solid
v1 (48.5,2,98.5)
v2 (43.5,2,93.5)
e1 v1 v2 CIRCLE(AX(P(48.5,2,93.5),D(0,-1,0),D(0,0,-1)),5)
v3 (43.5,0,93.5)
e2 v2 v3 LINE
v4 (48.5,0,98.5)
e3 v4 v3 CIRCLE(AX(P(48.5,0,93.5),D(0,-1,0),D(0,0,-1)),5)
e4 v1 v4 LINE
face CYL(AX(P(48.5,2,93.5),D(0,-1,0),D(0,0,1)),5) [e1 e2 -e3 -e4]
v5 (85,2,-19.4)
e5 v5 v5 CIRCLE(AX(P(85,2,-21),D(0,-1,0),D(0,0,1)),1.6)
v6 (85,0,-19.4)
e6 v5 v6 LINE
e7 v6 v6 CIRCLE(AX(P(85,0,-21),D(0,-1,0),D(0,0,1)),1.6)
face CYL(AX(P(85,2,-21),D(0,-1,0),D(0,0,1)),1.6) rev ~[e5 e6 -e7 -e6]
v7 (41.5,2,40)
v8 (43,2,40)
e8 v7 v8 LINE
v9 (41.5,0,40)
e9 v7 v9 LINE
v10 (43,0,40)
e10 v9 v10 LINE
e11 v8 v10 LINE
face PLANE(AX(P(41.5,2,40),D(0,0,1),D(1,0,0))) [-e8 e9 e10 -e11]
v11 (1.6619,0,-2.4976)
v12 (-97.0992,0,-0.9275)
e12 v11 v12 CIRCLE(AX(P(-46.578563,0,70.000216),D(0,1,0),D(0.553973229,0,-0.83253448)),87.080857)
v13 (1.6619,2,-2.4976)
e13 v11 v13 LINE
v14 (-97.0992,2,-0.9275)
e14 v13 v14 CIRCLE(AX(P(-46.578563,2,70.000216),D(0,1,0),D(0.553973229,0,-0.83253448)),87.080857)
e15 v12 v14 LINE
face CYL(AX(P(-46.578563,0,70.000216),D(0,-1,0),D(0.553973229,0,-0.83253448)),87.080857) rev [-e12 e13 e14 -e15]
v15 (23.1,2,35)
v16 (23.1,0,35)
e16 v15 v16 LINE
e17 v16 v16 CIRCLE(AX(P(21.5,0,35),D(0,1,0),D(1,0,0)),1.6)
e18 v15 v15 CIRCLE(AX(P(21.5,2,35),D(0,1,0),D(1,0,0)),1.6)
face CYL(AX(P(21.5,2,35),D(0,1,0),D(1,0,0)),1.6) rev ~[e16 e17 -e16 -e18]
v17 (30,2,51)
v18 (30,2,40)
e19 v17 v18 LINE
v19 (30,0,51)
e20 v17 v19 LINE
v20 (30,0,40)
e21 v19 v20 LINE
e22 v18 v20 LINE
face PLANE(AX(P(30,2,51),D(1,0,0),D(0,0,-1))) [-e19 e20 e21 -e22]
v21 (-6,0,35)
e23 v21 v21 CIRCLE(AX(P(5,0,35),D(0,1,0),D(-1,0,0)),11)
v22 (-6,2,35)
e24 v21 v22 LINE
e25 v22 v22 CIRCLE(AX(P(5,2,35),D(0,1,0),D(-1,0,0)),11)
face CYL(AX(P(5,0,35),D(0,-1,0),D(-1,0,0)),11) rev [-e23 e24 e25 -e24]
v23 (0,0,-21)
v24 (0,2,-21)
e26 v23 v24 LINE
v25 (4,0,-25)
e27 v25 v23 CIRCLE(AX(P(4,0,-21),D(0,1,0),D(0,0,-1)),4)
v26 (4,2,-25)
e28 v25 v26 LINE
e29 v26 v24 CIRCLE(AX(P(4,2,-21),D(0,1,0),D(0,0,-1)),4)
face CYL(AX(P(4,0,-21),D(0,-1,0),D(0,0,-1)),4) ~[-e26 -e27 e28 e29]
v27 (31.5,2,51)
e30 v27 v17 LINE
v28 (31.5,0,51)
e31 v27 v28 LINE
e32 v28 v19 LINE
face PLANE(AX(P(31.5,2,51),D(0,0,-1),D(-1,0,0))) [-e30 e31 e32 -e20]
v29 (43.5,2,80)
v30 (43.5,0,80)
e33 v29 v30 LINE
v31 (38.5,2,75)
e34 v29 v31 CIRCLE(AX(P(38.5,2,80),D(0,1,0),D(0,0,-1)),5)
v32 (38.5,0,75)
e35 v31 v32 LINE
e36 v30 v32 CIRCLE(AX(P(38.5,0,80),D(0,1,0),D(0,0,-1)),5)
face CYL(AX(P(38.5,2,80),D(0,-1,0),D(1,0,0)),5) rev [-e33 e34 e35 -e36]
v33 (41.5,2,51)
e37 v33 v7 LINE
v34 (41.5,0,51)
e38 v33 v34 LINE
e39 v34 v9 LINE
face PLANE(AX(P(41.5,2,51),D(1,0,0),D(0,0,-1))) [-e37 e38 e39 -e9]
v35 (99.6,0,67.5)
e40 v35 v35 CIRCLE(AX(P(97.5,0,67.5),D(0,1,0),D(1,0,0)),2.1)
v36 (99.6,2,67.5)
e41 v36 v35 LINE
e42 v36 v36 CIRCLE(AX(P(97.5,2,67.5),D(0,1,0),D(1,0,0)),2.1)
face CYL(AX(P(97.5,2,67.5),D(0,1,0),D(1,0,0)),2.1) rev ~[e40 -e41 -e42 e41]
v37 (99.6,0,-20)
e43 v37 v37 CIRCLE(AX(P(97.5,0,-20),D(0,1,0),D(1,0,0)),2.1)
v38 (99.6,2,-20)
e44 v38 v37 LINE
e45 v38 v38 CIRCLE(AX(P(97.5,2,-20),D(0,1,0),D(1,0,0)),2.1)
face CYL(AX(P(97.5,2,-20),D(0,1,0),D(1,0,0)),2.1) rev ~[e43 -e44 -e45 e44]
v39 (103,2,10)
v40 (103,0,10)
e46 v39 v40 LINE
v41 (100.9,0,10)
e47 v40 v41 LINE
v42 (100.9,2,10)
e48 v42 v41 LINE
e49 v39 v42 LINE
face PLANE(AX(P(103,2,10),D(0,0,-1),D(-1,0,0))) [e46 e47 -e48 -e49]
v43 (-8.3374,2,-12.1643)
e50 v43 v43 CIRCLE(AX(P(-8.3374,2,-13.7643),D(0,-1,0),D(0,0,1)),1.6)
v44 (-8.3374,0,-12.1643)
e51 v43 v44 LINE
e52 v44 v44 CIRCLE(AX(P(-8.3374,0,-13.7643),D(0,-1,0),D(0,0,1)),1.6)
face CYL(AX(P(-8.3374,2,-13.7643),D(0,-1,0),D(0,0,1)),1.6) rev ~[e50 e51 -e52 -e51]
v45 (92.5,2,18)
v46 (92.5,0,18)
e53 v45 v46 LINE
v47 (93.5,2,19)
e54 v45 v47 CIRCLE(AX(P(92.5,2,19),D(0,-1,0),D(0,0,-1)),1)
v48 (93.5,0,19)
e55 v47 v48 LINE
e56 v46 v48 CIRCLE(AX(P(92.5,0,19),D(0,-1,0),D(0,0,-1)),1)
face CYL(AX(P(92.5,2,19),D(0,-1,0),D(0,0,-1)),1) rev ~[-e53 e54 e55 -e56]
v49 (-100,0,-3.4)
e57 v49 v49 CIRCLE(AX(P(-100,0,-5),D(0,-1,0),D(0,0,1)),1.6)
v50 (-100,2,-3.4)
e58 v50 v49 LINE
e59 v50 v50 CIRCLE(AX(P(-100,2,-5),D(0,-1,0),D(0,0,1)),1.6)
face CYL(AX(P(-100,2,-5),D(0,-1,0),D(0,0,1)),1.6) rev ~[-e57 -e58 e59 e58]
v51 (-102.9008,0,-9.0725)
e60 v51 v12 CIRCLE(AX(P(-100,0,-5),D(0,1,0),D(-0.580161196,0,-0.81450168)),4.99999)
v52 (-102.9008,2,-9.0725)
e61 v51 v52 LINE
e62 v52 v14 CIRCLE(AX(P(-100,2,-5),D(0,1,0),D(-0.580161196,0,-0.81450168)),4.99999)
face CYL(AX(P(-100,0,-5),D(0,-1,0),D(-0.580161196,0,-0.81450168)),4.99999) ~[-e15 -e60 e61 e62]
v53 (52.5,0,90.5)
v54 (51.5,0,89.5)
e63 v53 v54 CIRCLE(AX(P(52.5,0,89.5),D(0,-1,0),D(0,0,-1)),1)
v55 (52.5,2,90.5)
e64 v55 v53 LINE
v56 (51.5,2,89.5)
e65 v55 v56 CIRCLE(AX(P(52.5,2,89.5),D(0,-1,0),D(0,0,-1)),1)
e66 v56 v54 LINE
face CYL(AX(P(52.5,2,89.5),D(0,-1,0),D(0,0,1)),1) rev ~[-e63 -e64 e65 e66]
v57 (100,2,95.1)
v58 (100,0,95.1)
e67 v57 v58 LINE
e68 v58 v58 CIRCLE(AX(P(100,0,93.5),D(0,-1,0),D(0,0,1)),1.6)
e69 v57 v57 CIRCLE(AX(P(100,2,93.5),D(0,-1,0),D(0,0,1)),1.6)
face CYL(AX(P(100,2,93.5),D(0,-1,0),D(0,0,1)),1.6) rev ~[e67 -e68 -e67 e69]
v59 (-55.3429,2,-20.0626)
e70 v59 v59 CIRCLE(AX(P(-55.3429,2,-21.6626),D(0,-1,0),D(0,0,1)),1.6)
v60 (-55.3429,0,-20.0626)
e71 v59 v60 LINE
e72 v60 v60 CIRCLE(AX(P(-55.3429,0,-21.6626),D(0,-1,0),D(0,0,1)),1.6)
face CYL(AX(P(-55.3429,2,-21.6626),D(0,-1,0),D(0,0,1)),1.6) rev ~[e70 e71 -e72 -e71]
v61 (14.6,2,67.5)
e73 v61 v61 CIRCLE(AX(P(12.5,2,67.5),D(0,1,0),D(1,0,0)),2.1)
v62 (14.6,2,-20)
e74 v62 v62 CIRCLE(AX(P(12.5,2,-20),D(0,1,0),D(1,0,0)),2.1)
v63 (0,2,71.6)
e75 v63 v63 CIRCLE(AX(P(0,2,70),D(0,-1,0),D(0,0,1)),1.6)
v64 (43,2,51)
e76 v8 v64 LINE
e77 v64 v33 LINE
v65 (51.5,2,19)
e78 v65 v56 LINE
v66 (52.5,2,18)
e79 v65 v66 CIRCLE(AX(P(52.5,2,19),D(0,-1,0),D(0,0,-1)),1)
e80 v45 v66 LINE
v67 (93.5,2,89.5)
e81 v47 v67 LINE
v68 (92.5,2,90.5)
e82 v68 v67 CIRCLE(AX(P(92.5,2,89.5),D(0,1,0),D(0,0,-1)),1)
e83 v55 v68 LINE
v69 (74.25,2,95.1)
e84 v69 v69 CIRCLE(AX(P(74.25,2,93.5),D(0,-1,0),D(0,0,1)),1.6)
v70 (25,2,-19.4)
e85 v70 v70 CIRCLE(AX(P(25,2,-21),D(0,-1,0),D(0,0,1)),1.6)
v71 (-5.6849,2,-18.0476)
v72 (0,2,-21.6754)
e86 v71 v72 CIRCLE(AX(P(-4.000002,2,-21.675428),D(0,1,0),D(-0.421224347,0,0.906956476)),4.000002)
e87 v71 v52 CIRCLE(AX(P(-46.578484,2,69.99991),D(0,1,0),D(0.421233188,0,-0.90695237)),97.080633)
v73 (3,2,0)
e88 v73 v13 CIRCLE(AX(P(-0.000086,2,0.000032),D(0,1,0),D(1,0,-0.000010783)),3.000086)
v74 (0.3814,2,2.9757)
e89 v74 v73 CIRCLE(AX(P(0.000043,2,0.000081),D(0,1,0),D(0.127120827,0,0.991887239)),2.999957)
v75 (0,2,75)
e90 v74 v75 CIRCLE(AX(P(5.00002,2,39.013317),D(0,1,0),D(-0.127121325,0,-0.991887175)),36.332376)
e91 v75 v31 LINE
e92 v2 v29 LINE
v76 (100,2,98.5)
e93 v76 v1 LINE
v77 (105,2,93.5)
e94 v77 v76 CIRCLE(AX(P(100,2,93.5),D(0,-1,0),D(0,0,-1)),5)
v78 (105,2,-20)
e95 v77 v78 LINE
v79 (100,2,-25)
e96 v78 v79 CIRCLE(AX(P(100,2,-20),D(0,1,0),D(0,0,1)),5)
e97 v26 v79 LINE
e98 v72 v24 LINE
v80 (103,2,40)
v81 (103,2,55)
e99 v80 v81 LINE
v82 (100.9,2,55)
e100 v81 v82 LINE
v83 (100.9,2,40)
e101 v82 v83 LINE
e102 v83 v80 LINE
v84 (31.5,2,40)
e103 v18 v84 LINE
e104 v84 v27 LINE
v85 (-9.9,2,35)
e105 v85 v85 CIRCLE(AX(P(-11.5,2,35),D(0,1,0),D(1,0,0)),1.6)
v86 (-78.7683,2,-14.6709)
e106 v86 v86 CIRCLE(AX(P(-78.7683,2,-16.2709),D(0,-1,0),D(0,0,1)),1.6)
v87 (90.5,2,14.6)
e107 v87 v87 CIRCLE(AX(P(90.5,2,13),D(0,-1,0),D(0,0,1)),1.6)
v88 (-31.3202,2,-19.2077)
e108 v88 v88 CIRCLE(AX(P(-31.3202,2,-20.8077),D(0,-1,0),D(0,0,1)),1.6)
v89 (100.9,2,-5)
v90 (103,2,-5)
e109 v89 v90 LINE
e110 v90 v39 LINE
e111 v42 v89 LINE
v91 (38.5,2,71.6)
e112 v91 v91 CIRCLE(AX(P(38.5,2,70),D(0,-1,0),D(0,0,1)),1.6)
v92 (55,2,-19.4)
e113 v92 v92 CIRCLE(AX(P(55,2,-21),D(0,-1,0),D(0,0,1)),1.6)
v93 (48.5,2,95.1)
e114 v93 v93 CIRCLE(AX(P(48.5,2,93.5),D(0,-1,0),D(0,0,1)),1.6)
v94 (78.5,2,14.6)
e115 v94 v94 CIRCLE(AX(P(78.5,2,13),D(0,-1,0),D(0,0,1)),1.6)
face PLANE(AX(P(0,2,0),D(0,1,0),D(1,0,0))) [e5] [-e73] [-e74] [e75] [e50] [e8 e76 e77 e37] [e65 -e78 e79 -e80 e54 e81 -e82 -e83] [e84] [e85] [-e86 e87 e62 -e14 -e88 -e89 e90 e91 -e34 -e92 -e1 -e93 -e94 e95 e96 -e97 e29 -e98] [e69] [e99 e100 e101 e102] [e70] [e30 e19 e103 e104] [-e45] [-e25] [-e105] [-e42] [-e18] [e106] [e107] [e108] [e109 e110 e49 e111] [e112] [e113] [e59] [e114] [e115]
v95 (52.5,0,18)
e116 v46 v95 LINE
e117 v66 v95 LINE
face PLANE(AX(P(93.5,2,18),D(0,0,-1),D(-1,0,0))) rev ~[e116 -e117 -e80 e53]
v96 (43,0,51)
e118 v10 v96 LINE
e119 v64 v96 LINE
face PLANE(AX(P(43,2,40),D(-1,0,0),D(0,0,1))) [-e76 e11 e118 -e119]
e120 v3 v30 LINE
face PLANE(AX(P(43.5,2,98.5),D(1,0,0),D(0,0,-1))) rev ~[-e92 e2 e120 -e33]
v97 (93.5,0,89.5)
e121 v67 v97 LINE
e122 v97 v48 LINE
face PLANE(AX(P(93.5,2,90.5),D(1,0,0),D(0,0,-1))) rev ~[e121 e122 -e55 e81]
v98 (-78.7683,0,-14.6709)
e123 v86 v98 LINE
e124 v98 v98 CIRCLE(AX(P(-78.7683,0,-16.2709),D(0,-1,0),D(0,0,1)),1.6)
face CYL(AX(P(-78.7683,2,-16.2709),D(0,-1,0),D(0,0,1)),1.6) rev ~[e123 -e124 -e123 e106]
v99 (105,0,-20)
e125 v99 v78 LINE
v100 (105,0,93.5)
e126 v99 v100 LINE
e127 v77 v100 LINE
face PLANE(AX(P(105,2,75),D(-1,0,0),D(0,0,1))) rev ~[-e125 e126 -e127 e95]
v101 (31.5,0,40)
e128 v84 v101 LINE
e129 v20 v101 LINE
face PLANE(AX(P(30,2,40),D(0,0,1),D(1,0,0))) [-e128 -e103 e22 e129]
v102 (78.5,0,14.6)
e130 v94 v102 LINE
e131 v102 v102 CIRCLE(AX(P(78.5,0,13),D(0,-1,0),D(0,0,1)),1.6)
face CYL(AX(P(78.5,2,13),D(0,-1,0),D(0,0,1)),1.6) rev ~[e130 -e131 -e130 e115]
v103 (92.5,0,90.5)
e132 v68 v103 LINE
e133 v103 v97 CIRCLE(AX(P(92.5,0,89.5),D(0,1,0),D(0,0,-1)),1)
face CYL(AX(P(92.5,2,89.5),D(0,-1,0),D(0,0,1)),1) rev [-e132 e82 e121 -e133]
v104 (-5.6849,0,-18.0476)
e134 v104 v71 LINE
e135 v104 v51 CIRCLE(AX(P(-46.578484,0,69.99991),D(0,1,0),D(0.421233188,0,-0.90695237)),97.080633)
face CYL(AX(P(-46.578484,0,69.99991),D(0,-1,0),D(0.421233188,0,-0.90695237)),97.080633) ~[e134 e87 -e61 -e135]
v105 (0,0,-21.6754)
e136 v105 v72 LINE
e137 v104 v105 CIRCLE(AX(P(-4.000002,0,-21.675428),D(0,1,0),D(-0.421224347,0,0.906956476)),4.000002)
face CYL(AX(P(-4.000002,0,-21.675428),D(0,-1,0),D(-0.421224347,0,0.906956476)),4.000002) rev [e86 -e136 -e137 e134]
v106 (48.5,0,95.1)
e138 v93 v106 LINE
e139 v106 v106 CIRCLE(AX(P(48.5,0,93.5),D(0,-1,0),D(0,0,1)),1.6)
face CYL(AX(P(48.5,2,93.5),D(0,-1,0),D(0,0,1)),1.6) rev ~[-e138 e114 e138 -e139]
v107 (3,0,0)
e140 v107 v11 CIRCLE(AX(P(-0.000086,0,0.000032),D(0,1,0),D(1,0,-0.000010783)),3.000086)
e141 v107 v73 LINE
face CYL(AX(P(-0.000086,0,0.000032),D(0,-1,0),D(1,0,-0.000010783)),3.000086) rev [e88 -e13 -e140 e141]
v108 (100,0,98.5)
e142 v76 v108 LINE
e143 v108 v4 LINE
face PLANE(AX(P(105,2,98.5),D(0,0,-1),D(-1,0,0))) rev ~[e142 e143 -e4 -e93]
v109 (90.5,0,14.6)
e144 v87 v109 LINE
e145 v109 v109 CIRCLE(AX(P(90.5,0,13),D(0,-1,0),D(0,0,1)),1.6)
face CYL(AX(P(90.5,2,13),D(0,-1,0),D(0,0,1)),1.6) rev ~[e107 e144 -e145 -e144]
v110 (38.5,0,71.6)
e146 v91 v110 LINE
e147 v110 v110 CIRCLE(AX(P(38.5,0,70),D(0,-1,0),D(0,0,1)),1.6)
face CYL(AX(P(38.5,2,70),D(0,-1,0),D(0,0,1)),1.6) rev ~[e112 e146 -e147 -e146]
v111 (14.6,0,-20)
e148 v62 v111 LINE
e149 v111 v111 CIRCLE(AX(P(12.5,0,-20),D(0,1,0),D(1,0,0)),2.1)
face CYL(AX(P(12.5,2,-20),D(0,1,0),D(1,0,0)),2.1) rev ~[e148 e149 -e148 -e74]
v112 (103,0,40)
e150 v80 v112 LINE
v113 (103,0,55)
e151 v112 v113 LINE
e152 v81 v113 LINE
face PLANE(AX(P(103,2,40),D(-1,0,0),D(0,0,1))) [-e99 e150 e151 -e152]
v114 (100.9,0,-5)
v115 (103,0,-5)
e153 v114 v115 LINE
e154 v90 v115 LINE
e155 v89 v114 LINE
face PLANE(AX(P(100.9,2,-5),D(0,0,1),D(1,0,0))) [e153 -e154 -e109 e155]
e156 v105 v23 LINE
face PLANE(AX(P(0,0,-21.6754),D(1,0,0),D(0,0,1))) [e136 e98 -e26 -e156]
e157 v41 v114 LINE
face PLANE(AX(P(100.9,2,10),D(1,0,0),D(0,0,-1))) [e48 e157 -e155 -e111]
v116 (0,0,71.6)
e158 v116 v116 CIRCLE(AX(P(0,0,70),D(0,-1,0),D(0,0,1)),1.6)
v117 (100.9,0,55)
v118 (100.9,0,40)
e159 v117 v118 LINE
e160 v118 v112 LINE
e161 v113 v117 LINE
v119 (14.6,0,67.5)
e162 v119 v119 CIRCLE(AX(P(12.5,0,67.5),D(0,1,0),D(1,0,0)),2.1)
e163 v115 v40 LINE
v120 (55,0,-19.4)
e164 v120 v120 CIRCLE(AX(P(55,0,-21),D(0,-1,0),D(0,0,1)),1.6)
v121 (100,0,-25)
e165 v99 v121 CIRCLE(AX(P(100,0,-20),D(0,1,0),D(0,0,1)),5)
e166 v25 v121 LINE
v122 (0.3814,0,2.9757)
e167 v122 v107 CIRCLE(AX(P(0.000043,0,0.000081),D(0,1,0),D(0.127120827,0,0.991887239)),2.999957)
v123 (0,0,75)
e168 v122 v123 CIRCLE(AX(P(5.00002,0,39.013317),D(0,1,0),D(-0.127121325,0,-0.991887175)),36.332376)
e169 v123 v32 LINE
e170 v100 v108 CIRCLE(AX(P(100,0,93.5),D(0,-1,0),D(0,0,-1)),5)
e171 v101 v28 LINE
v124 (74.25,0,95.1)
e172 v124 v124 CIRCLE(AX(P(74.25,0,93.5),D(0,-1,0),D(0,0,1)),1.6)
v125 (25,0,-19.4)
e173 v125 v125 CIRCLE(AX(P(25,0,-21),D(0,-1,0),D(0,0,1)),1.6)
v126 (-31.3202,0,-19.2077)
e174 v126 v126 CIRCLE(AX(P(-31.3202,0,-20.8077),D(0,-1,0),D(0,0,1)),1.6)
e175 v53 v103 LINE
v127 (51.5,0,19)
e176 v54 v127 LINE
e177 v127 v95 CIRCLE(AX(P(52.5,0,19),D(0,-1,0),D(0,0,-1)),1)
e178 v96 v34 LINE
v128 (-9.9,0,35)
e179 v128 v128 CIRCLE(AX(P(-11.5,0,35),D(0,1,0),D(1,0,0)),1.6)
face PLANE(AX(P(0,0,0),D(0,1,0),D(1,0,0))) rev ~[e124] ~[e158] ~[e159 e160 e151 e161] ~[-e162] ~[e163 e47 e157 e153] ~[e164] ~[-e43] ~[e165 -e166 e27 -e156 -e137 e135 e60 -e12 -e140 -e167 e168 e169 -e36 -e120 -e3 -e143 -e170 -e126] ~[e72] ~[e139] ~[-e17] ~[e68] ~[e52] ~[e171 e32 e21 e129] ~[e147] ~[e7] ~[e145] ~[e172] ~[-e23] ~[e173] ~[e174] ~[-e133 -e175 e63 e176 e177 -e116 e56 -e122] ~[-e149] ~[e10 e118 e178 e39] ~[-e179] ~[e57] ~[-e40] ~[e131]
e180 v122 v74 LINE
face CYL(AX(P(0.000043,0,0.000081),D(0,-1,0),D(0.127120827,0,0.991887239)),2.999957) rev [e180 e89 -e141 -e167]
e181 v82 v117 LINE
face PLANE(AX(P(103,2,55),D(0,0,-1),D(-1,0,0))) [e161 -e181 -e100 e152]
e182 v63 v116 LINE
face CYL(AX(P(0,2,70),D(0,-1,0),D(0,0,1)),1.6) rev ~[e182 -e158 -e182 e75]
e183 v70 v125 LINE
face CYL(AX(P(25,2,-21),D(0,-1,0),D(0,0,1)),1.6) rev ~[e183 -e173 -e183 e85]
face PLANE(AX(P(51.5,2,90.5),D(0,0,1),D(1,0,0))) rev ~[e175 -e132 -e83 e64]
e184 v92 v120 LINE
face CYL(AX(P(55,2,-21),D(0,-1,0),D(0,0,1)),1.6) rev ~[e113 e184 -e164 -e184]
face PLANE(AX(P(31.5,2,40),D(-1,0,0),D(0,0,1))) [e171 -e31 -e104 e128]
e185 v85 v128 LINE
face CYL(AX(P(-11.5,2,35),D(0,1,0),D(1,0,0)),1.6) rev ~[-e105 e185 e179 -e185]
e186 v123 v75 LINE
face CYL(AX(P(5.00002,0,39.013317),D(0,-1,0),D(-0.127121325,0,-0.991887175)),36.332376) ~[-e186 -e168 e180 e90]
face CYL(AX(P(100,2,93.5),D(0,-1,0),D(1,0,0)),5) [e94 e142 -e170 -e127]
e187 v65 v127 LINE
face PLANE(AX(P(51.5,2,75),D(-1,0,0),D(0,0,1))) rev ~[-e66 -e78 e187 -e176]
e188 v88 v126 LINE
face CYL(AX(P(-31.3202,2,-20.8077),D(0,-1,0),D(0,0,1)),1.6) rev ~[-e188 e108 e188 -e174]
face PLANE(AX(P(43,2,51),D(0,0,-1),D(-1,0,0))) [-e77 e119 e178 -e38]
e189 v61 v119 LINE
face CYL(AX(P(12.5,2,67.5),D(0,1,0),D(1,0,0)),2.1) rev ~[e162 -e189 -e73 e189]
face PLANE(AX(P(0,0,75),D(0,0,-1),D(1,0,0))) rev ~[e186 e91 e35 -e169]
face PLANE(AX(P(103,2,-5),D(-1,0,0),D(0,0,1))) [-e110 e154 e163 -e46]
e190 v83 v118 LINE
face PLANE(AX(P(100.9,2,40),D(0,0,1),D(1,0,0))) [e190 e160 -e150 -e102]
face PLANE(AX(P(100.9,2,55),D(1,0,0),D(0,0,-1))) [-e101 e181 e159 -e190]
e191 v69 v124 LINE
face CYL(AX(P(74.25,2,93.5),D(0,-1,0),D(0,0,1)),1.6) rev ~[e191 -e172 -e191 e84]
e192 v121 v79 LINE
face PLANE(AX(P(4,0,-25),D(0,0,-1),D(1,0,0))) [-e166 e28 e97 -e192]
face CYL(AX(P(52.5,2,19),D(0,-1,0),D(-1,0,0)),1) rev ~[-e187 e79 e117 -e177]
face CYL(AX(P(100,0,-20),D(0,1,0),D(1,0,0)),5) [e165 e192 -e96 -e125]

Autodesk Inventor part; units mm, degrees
ref_plane "YZ Plane" through (0, 0, 0) normal (1, 0, 0) x (0, 1, 0)
ref_plane "XZ Plane" through (0, 0, 0) normal (0, 1, 0) x (-1, 0, 0)
ref_plane "XY Plane" through (0, 0, 0) normal (0, 0, 1) x (1, 0, 0)
sketch "Sketch1" plane through (0, 0, 0) normal (0, 1, 0) x (-1, 0, 0)
  arc A0 (-0.3814, 2.9757) -> (-3, 0) centre (0, 0) ccw
  circle A1 centre (-5, 35) radius 11
  arc A2 (-0.3814, 2.9757) -> (0, 75) centre (-5, 39.0133) ccw
  line L0 (-105, 0) -> (0, 0) construction
  line L1 (-3, 0) -> (-105, 0) construction
  arc A3 (-3, 0) -> (-0.3814, -2.9757) centre (0, 0) ccw
  arc A4 (-1.6619, -2.4976) -> (97.0992, -0.9275) centre (46.5785, 70) ccw
  arc A5 (102.9008, -9.0725) -> (97.0992, -0.9275) centre (100, -5) ccw
  line L2 (0, 0) -> (100, 0) construction
  arc A6 (5.6849, -18.0476) -> (102.9008, -9.0725) centre (46.5785, 70) ccw
  line L3 (0, 75) -> (0, 0) construction
  line L4 (0, 0) -> (0, -15.1769) construction
  line L5 (0, 0) -> (-105, 0) construction
  line L6 (0, 75) -> (-105, 75)
  line L7 (-105, 75) -> (-105, -25)
  line L8 (0, -21.6754) -> (0, -21)
  line L9 (-4, -25) -> (-105, -25)
  arc A7 (5.6849, -18.0476) -> (0, -21.6754) centre (4, -21.6754) ccw
  arc A8 (-4, -25) -> (0, -21) centre (-4, -21) ccw
  point P0 (-5, -39.0133)
  point P1 (0, -25)
  dimension "d0" = 6
  dimension "d7" = 22
  dimension "d13" = 5
  dimension "d47" = 10
  dimension "d49" = 100
  dimension "d68" = 70
  dimension "d71" = 0
  dimension "d75" = 105
  dimension "d76" = 4
  dimension "d77" = 4
  dimension "d101" = 100
  dimension "d105" = 75
  dimension "d106" = 35
  dimension "d107" = 5
extrude "Extrusion1" add sketch "Sketch1" along normal blind 2
sketch "Szkic5" plane through (0, 2, 0) normal (0, 1, 0) x (1, 0, 0)
  circle A0 centre (12.5, 20) radius 2.1
  circle A1 centre (97.5, 20) radius 2.1
  circle A2 centre (12.5, -67.5) radius 2.1
  circle A3 centre (97.5, -67.5) radius 2.1
  line L0 (12.5, 20) -> (97.5, 20) construction
  line L1 (97.5, -67.5) -> (97.5, 20) construction
  line L2 (12.5, -67.5) -> (97.5, -67.5) construction
  line L3 (0, -75) -> (105, -75) construction
  line L4 (105, -75) -> (105, 25) construction
  line L5 (105, 25) -> (4, 25) construction
  line L6 (0, 21) -> (0, 21.6754) construction
  line L7 (12.5, 20) -> (12.5, -67.5) construction
  point P0 (0, 0)
  dimension "d84" = 7.5
  dimension "d85" = 7.5
  dimension "d88" = 4.2
  dimension "d89" = 85
  dimension "d109" = 87.5
extrude "Wyciągnięcie proste4" cut sketch "Szkic5" against normal up to surface (2 mm away)
sketch "Szkic6" plane through (0, 2, 0) normal (0, 1, 0) x (1, 0, 0)
  line L0 (103, -55) -> (100.9, -55)
  line L1 (100.9, -55) -> (100.9, -40)
  line L2 (100.9, -40) -> (103, -40)
  line L3 (103, -40) -> (103, -55)
  line L4 (103, -10) -> (100.9, -10)
  line L5 (100.9, -10) -> (100.9, 5)
  line L6 (100.9, 5) -> (103, 5)
  line L7 (103, 5) -> (103, -10)
  line L8 (100.9, -40) -> (100.9, -10) construction
  line L9 (100.9, -25) -> (105, -25) construction
  line L10 (105, -75) -> (105, 25) construction
  point P0 (0, 0)
  point P1 (105, 25)
  dimension "d92" = 15
  dimension "d94" = 30
  dimension "d127" = 2.1
  dimension "d128" = 2
extrude "Wyciągnięcie proste5" cut sketch "Szkic6" against normal up to surface (2 mm away)
sketch "Sketch8" plane through (0, 2, 0) normal (0, 1, 0) x (1, 0, 0)
  circle A0 centre (-11.5, -35) radius 1.6
  circle A1 centre (21.5, -35) radius 1.6
  circle A2 centre (5, -35) radius 11 construction
  line L0 (-11.5, -35) -> (21.5, -35) construction
  point P0 (0, 0)
  dimension "d110" = 33
  dimension "d111" = 3.2
extrude "Extrusion6" cut sketch "Sketch8" against normal through all
fillet "Fillet1" radius 5 1 edges at (105, 1, -25)
sketch "Sketch9" plane through (0, 2, 0) normal (0, 1, 0) x (1, 0, 0)
  line L0 (0, -75) -> (105, -75) projected
  line L1 (105, -75) -> (105, -98.5)
  line L2 (105, -98.5) -> (43.5, -98.5)
  line L3 (43.5, -98.5) -> (43.5, -75)
  line L4 (43.5, -75) -> (51.5, -75)
  line L5 (51.5, -75) -> (51.5, -90.5)
  line L6 (51.5, -90.5) -> (93.5, -90.5)
  line L7 (93.5, -90.5) -> (93.5, -75)
  line L8 (105, -75) -> (93.5, -75)
  point P0 (0, 0)
  dimension "d116" = 8
  dimension "d117" = 8
  dimension "d118" = 15.5
  dimension "d119" = 42
  dimension "d130" = 51.5
extrude "Extrusion7" add sketch "Sketch9" against normal up to surface (2 mm away) contours L0 L5 L6 L7 L1 L2 L3
sketch "Sketch10" plane through (0, 2, 0) normal (0, 1, 0) x (1, 0, 0)
  line L0 (93.5, -75) -> (51.5, -75) projected
  line L1 (51.5, -75) -> (93.5, -75)
  line L2 (93.5, -75) -> (93.5, -18)
  line L3 (93.5, -18) -> (51.5, -18)
  line L4 (51.5, -18) -> (51.5, -75)
  point P0 (0, 0)
  dimension "d123" = 57
extrude "Extrusion8" cut sketch "Sketch10" against normal up to surface (2 mm away)
fillet "Fillet2" radius 5 3 edges at (105, 1, 98.5) (43.5, 1, 98.5) (43.5, 1, 75)
fillet "Fillet3" radius 1 4 edges at (51.5, 1, 18) (93.5, 1, 18) (93.5, 1, 90.5) (51.5, 1, 90.5)
sketch "Sketch11" plane through (0, 2, 0) normal (0, 1, 0) x (1, 0, 0)
  line L0 (78.5, -13) -> (90.5, -13) construction
  line L1 (52.5, -18) -> (92.5, -18) construction
  line L2 (93.5, -19) -> (93.5, -89.5) construction
  point P0 (0, 0)
  dimension "d131" = 5
  dimension "d132" = 3
  dimension "d133" = 12
hole "Hole1" at (78.5, 2, 13) at (90.5, 2, 13) direction (0, -1, 0) diameter 3.2 end through all
sketch "Sketch12" plane through (0, 2, 0) normal (0, 1, 0) x (1, 0, 0)
  arc A0 (1.6619, 2.4976) -> (-97.0992, 0.9275) centre (-46.5785, -70) ccw construction
  arc A1 (-102.9008, 9.0725) -> (-97.0992, 0.9275) centre (-100, 5) ccw construction
  arc A2 (13.245, 0) -> (-100, 5) centre (-46.5785, -70) ccw construction
  line L0 (-46.5785, -70) -> (-100, 5) construction
  arc A3 (100, -98.5) -> (105, -93.5) centre (100, -93.5) ccw construction
  arc A4 (43.5, -93.5) -> (48.5, -98.5) centre (48.5, -93.5) ccw construction
  line L1 (25, 21) -> (85, 21) construction
  line L2 (100, 25) -> (4, 25) construction
  line L3 (48.5, -93.5) -> (100, -93.5) construction
  line L4 (0, -70) -> (38.5, -70) construction
  line L5 (0, -75) -> (38.5, -75) construction
  line L6 (38.5, -70) -> (38.5, -75) construction
  arc A5 (43.5, -80) -> (38.5, -75) centre (38.5, -80) ccw construction
  arc A6 (0.3814, -2.9757) -> (0, -75) centre (5, -39.0133) ccw construction
  line L7 (0, -75) -> (0, -70) construction
  circle A7 centre (12.5, 20) radius 2.1 construction
  circle A8 centre (97.5, 20) radius 2.1 construction
  line L8 (0, 0) -> (13.245, 0) construction
  point P0 (-78.7683, 16.2709)
  point P1 (-55.3429, 21.6626)
  point P2 (-31.3202, 20.8077)
  point P3 (-8.3374, 13.7643)
  point P4 (55, 21)
  point P5 (74.25, -93.5)
  dimension "d143" = 60
  dimension "d145" = 60
  dimension "d146" = 4
  dimension "d147" = 5
  dimension "d148" = 12.5
  dimension "d149" = 12.5
hole "Hole2" at (-100, 2, -5) at (-78.7683, 2, -16.2709) at (-55.3429, 2, -21.6626) at (-31.3202, 2, -20.8077) at (-8.3374, 2, -13.7643) at (48.5, 2, 93.5) at (100, 2, 93.5) at (25, 2, -21) at (85, 2, -21) at (55, 2, -21) at (74.25, 2, 93.5) at (0, 2, 70) at (38.5, 2, 70) direction (0, -1, 0) diameter 3.2 end through all
sketch "Sketch15" plane through (0, 2, 0) normal (0, 1, 0) x (1, 0, 0)
  line L0 (30, -40) -> (31.5, -40)
  line L1 (31.5, -40) -> (31.5, -51)
  line L2 (31.5, -51) -> (30, -51)
  line L3 (30, -51) -> (30, -40)
  line L4 (41.5, -40) -> (43, -40)
  line L5 (43, -40) -> (43, -51)
  line L6 (43, -51) -> (41.5, -51)
  line L7 (41.5, -51) -> (41.5, -40)
  point P0 (0, 0)
  dimension "d157" = 11
  dimension "d158" = 10
  dimension "d159" = 1.5
  dimension "d160" = 40
  dimension "d161" = 30
extrude "Extrusion9" cut sketch "Sketch15" against normal through all
sketch "Sketch16" plane through (0, 2, 0) normal (0, 1, 0) x (1, 0, 0)
  line L0 (43, -40) -> (43, -51) projected
  line L1 (43, -51) -> (41.5, -51) projected
  line L2 (41.5, -51) -> (41.5, -40) projected
  line L3 (41.5, -40) -> (43, -40) projected
  line L4 (31.5, -40) -> (31.5, -51) projected
  line L5 (31.5, -51) -> (30, -51) projected
  line L6 (30, -51) -> (30, -40) projected
  line L7 (30, -40) -> (31.5, -40) projected
  circle A0 centre (0, -70) radius 1.6 projected
  circle A1 centre (55, 21) radius 1.6 projected
  circle A2 centre (25, 21) radius 1.6 projected
  circle A3 centre (48.5, -93.5) radius 1.6 projected
  circle A4 centre (-31.3202, 20.8077) radius 1.6 projected
  circle A5 centre (-78.7683, 16.2709) radius 1.6 projected
  circle A6 centre (-100, 5) radius 1.6 projected
  circle A7 centre (-55.3429, 21.6626) radius 1.6 projected
  circle A8 centre (-8.3374, 13.7643) radius 1.6 projected
  circle A9 centre (100, -93.5) radius 1.6 projected
  circle A10 centre (85, 21) radius 1.6 projected
  circle A11 centre (74.25, -93.5) radius 1.6 projected
  circle A12 centre (38.5, -70) radius 1.6 projected
  circle A13 centre (78.5, -13) radius 1.6 projected
  circle A14 centre (90.5, -13) radius 1.6 projected
  arc A15 (43.5, -93.5) -> (48.5, -98.5) centre (48.5, -93.5) ccw projected
  line L8 (48.5, -98.5) -> (100, -98.5) projected
  arc A16 (100, -98.5) -> (105, -93.5) centre (100, -93.5) ccw projected
  line L9 (105, -93.5) -> (105, 20) projected
  arc A17 (105, 20) -> (100, 25) centre (100, 20) ccw projected
  line L10 (100, 25) -> (4, 25) projected
  arc A18 (4, 25) -> (0, 21) centre (4, 21) ccw projected
  line L11 (0, 21) -> (0, 21.6754) projected
  arc A19 (-5.6849, 18.0476) -> (0, 21.6754) centre (-4, 21.6754) ccw projected
  arc A20 (-5.6849, 18.0476) -> (-102.9008, 9.0725) centre (-46.5785, -70) ccw projected
  arc A21 (-102.9008, 9.0725) -> (-97.0992, 0.9275) centre (-100, 5) ccw projected
  arc A22 (1.6619, 2.4976) -> (-97.0992, 0.9275) centre (-46.5785, -70) ccw projected
  arc A23 (0.3814, -2.9757) -> (1.6619, 2.4976) centre (0, 0) ccw projected
  arc A24 (0.3814, -2.9757) -> (0, -75) centre (5, -39.0133) ccw projected
  line L12 (0, -75) -> (38.5, -75) projected
  arc A25 (43.5, -80) -> (38.5, -75) centre (38.5, -80) ccw projected
  line L13 (43.5, -80) -> (43.5, -93.5) projected
  line L14 (93.5, -19) -> (93.5, -89.5) projected
  arc A26 (92.5, -90.5) -> (93.5, -89.5) centre (92.5, -89.5) ccw projected
  line L15 (92.5, -90.5) -> (52.5, -90.5) projected
  arc A27 (51.5, -89.5) -> (52.5, -90.5) centre (52.5, -89.5) ccw projected
  line L16 (51.5, -89.5) -> (51.5, -19) projected
  arc A28 (52.5, -18) -> (51.5, -19) centre (52.5, -19) ccw projected
  line L17 (52.5, -18) -> (92.5, -18) projected
  arc A29 (93.5, -19) -> (92.5, -18) centre (92.5, -19) ccw projected
  circle A30 centre (-11.5, -35) radius 1.6 projected
  circle A31 centre (21.5, -35) radius 1.6 projected
  line L18 (103, -55) -> (100.9, -55) projected
  line L19 (100.9, -55) -> (100.9, -40) projected
  line L20 (100.9, -40) -> (103, -40) projected
  line L21 (103, -40) -> (103, -55) projected
  line L22 (100.9, -10) -> (100.9, 5) projected
  line L23 (100.9, 5) -> (103, 5) projected
  line L24 (103, 5) -> (103, -10) projected
  line L25 (103, -10) -> (100.9, -10) projected
  circle A32 centre (12.5, -67.5) radius 2.1 projected
  circle A33 centre (97.5, -67.5) radius 2.1 projected
  circle A34 centre (97.5, 20) radius 2.1 projected
  circle A35 centre (12.5, 20) radius 2.1 projected
  circle A36 centre (5, -35) radius 11 projected
sketch "Sketch17" plane through (0, 2, 0) normal (0, 1, 0) x (1, 0, 0)
  circle A0 centre (14, 7) radius 7.5
  line L0 (100, 25) -> (4, 25) construction
  line L1 (105, -93.5) -> (105, 20) construction
  circle A1 centre (32, 7) radius 7.5
  circle A2 centre (50, 7) radius 7.5
  circle A3 centre (68, 7) radius 7.5
  circle A4 centre (86, 7) radius 7.5
  line L2 (5, -35) -> (5, -13) construction
  circle A5 centre (5, -13) radius 7.5
  circle A6 centre (-14.0526, -24) radius 7.5
  circle A7 centre (-14.0526, -46) radius 7.5
  circle A8 centre (5, -57) radius 7.5
  circle A9 centre (23, -9) radius 7.5
  circle A10 centre (41, -9) radius 7.5
  point P0 (0, 0)
  dimension "d164" = 15
  dimension "d165" = 14
  dimension "d166" = 7
  dimension "d169" = 18
  dimension "d174" = 22
  dimension "d177" = 180
  dimension "d179" = 16
  dimension "d180" = 9
  dimension "d183" = 18
properties part number "wstepna_geometria_wersja_2" material "Aluminum 6061"
